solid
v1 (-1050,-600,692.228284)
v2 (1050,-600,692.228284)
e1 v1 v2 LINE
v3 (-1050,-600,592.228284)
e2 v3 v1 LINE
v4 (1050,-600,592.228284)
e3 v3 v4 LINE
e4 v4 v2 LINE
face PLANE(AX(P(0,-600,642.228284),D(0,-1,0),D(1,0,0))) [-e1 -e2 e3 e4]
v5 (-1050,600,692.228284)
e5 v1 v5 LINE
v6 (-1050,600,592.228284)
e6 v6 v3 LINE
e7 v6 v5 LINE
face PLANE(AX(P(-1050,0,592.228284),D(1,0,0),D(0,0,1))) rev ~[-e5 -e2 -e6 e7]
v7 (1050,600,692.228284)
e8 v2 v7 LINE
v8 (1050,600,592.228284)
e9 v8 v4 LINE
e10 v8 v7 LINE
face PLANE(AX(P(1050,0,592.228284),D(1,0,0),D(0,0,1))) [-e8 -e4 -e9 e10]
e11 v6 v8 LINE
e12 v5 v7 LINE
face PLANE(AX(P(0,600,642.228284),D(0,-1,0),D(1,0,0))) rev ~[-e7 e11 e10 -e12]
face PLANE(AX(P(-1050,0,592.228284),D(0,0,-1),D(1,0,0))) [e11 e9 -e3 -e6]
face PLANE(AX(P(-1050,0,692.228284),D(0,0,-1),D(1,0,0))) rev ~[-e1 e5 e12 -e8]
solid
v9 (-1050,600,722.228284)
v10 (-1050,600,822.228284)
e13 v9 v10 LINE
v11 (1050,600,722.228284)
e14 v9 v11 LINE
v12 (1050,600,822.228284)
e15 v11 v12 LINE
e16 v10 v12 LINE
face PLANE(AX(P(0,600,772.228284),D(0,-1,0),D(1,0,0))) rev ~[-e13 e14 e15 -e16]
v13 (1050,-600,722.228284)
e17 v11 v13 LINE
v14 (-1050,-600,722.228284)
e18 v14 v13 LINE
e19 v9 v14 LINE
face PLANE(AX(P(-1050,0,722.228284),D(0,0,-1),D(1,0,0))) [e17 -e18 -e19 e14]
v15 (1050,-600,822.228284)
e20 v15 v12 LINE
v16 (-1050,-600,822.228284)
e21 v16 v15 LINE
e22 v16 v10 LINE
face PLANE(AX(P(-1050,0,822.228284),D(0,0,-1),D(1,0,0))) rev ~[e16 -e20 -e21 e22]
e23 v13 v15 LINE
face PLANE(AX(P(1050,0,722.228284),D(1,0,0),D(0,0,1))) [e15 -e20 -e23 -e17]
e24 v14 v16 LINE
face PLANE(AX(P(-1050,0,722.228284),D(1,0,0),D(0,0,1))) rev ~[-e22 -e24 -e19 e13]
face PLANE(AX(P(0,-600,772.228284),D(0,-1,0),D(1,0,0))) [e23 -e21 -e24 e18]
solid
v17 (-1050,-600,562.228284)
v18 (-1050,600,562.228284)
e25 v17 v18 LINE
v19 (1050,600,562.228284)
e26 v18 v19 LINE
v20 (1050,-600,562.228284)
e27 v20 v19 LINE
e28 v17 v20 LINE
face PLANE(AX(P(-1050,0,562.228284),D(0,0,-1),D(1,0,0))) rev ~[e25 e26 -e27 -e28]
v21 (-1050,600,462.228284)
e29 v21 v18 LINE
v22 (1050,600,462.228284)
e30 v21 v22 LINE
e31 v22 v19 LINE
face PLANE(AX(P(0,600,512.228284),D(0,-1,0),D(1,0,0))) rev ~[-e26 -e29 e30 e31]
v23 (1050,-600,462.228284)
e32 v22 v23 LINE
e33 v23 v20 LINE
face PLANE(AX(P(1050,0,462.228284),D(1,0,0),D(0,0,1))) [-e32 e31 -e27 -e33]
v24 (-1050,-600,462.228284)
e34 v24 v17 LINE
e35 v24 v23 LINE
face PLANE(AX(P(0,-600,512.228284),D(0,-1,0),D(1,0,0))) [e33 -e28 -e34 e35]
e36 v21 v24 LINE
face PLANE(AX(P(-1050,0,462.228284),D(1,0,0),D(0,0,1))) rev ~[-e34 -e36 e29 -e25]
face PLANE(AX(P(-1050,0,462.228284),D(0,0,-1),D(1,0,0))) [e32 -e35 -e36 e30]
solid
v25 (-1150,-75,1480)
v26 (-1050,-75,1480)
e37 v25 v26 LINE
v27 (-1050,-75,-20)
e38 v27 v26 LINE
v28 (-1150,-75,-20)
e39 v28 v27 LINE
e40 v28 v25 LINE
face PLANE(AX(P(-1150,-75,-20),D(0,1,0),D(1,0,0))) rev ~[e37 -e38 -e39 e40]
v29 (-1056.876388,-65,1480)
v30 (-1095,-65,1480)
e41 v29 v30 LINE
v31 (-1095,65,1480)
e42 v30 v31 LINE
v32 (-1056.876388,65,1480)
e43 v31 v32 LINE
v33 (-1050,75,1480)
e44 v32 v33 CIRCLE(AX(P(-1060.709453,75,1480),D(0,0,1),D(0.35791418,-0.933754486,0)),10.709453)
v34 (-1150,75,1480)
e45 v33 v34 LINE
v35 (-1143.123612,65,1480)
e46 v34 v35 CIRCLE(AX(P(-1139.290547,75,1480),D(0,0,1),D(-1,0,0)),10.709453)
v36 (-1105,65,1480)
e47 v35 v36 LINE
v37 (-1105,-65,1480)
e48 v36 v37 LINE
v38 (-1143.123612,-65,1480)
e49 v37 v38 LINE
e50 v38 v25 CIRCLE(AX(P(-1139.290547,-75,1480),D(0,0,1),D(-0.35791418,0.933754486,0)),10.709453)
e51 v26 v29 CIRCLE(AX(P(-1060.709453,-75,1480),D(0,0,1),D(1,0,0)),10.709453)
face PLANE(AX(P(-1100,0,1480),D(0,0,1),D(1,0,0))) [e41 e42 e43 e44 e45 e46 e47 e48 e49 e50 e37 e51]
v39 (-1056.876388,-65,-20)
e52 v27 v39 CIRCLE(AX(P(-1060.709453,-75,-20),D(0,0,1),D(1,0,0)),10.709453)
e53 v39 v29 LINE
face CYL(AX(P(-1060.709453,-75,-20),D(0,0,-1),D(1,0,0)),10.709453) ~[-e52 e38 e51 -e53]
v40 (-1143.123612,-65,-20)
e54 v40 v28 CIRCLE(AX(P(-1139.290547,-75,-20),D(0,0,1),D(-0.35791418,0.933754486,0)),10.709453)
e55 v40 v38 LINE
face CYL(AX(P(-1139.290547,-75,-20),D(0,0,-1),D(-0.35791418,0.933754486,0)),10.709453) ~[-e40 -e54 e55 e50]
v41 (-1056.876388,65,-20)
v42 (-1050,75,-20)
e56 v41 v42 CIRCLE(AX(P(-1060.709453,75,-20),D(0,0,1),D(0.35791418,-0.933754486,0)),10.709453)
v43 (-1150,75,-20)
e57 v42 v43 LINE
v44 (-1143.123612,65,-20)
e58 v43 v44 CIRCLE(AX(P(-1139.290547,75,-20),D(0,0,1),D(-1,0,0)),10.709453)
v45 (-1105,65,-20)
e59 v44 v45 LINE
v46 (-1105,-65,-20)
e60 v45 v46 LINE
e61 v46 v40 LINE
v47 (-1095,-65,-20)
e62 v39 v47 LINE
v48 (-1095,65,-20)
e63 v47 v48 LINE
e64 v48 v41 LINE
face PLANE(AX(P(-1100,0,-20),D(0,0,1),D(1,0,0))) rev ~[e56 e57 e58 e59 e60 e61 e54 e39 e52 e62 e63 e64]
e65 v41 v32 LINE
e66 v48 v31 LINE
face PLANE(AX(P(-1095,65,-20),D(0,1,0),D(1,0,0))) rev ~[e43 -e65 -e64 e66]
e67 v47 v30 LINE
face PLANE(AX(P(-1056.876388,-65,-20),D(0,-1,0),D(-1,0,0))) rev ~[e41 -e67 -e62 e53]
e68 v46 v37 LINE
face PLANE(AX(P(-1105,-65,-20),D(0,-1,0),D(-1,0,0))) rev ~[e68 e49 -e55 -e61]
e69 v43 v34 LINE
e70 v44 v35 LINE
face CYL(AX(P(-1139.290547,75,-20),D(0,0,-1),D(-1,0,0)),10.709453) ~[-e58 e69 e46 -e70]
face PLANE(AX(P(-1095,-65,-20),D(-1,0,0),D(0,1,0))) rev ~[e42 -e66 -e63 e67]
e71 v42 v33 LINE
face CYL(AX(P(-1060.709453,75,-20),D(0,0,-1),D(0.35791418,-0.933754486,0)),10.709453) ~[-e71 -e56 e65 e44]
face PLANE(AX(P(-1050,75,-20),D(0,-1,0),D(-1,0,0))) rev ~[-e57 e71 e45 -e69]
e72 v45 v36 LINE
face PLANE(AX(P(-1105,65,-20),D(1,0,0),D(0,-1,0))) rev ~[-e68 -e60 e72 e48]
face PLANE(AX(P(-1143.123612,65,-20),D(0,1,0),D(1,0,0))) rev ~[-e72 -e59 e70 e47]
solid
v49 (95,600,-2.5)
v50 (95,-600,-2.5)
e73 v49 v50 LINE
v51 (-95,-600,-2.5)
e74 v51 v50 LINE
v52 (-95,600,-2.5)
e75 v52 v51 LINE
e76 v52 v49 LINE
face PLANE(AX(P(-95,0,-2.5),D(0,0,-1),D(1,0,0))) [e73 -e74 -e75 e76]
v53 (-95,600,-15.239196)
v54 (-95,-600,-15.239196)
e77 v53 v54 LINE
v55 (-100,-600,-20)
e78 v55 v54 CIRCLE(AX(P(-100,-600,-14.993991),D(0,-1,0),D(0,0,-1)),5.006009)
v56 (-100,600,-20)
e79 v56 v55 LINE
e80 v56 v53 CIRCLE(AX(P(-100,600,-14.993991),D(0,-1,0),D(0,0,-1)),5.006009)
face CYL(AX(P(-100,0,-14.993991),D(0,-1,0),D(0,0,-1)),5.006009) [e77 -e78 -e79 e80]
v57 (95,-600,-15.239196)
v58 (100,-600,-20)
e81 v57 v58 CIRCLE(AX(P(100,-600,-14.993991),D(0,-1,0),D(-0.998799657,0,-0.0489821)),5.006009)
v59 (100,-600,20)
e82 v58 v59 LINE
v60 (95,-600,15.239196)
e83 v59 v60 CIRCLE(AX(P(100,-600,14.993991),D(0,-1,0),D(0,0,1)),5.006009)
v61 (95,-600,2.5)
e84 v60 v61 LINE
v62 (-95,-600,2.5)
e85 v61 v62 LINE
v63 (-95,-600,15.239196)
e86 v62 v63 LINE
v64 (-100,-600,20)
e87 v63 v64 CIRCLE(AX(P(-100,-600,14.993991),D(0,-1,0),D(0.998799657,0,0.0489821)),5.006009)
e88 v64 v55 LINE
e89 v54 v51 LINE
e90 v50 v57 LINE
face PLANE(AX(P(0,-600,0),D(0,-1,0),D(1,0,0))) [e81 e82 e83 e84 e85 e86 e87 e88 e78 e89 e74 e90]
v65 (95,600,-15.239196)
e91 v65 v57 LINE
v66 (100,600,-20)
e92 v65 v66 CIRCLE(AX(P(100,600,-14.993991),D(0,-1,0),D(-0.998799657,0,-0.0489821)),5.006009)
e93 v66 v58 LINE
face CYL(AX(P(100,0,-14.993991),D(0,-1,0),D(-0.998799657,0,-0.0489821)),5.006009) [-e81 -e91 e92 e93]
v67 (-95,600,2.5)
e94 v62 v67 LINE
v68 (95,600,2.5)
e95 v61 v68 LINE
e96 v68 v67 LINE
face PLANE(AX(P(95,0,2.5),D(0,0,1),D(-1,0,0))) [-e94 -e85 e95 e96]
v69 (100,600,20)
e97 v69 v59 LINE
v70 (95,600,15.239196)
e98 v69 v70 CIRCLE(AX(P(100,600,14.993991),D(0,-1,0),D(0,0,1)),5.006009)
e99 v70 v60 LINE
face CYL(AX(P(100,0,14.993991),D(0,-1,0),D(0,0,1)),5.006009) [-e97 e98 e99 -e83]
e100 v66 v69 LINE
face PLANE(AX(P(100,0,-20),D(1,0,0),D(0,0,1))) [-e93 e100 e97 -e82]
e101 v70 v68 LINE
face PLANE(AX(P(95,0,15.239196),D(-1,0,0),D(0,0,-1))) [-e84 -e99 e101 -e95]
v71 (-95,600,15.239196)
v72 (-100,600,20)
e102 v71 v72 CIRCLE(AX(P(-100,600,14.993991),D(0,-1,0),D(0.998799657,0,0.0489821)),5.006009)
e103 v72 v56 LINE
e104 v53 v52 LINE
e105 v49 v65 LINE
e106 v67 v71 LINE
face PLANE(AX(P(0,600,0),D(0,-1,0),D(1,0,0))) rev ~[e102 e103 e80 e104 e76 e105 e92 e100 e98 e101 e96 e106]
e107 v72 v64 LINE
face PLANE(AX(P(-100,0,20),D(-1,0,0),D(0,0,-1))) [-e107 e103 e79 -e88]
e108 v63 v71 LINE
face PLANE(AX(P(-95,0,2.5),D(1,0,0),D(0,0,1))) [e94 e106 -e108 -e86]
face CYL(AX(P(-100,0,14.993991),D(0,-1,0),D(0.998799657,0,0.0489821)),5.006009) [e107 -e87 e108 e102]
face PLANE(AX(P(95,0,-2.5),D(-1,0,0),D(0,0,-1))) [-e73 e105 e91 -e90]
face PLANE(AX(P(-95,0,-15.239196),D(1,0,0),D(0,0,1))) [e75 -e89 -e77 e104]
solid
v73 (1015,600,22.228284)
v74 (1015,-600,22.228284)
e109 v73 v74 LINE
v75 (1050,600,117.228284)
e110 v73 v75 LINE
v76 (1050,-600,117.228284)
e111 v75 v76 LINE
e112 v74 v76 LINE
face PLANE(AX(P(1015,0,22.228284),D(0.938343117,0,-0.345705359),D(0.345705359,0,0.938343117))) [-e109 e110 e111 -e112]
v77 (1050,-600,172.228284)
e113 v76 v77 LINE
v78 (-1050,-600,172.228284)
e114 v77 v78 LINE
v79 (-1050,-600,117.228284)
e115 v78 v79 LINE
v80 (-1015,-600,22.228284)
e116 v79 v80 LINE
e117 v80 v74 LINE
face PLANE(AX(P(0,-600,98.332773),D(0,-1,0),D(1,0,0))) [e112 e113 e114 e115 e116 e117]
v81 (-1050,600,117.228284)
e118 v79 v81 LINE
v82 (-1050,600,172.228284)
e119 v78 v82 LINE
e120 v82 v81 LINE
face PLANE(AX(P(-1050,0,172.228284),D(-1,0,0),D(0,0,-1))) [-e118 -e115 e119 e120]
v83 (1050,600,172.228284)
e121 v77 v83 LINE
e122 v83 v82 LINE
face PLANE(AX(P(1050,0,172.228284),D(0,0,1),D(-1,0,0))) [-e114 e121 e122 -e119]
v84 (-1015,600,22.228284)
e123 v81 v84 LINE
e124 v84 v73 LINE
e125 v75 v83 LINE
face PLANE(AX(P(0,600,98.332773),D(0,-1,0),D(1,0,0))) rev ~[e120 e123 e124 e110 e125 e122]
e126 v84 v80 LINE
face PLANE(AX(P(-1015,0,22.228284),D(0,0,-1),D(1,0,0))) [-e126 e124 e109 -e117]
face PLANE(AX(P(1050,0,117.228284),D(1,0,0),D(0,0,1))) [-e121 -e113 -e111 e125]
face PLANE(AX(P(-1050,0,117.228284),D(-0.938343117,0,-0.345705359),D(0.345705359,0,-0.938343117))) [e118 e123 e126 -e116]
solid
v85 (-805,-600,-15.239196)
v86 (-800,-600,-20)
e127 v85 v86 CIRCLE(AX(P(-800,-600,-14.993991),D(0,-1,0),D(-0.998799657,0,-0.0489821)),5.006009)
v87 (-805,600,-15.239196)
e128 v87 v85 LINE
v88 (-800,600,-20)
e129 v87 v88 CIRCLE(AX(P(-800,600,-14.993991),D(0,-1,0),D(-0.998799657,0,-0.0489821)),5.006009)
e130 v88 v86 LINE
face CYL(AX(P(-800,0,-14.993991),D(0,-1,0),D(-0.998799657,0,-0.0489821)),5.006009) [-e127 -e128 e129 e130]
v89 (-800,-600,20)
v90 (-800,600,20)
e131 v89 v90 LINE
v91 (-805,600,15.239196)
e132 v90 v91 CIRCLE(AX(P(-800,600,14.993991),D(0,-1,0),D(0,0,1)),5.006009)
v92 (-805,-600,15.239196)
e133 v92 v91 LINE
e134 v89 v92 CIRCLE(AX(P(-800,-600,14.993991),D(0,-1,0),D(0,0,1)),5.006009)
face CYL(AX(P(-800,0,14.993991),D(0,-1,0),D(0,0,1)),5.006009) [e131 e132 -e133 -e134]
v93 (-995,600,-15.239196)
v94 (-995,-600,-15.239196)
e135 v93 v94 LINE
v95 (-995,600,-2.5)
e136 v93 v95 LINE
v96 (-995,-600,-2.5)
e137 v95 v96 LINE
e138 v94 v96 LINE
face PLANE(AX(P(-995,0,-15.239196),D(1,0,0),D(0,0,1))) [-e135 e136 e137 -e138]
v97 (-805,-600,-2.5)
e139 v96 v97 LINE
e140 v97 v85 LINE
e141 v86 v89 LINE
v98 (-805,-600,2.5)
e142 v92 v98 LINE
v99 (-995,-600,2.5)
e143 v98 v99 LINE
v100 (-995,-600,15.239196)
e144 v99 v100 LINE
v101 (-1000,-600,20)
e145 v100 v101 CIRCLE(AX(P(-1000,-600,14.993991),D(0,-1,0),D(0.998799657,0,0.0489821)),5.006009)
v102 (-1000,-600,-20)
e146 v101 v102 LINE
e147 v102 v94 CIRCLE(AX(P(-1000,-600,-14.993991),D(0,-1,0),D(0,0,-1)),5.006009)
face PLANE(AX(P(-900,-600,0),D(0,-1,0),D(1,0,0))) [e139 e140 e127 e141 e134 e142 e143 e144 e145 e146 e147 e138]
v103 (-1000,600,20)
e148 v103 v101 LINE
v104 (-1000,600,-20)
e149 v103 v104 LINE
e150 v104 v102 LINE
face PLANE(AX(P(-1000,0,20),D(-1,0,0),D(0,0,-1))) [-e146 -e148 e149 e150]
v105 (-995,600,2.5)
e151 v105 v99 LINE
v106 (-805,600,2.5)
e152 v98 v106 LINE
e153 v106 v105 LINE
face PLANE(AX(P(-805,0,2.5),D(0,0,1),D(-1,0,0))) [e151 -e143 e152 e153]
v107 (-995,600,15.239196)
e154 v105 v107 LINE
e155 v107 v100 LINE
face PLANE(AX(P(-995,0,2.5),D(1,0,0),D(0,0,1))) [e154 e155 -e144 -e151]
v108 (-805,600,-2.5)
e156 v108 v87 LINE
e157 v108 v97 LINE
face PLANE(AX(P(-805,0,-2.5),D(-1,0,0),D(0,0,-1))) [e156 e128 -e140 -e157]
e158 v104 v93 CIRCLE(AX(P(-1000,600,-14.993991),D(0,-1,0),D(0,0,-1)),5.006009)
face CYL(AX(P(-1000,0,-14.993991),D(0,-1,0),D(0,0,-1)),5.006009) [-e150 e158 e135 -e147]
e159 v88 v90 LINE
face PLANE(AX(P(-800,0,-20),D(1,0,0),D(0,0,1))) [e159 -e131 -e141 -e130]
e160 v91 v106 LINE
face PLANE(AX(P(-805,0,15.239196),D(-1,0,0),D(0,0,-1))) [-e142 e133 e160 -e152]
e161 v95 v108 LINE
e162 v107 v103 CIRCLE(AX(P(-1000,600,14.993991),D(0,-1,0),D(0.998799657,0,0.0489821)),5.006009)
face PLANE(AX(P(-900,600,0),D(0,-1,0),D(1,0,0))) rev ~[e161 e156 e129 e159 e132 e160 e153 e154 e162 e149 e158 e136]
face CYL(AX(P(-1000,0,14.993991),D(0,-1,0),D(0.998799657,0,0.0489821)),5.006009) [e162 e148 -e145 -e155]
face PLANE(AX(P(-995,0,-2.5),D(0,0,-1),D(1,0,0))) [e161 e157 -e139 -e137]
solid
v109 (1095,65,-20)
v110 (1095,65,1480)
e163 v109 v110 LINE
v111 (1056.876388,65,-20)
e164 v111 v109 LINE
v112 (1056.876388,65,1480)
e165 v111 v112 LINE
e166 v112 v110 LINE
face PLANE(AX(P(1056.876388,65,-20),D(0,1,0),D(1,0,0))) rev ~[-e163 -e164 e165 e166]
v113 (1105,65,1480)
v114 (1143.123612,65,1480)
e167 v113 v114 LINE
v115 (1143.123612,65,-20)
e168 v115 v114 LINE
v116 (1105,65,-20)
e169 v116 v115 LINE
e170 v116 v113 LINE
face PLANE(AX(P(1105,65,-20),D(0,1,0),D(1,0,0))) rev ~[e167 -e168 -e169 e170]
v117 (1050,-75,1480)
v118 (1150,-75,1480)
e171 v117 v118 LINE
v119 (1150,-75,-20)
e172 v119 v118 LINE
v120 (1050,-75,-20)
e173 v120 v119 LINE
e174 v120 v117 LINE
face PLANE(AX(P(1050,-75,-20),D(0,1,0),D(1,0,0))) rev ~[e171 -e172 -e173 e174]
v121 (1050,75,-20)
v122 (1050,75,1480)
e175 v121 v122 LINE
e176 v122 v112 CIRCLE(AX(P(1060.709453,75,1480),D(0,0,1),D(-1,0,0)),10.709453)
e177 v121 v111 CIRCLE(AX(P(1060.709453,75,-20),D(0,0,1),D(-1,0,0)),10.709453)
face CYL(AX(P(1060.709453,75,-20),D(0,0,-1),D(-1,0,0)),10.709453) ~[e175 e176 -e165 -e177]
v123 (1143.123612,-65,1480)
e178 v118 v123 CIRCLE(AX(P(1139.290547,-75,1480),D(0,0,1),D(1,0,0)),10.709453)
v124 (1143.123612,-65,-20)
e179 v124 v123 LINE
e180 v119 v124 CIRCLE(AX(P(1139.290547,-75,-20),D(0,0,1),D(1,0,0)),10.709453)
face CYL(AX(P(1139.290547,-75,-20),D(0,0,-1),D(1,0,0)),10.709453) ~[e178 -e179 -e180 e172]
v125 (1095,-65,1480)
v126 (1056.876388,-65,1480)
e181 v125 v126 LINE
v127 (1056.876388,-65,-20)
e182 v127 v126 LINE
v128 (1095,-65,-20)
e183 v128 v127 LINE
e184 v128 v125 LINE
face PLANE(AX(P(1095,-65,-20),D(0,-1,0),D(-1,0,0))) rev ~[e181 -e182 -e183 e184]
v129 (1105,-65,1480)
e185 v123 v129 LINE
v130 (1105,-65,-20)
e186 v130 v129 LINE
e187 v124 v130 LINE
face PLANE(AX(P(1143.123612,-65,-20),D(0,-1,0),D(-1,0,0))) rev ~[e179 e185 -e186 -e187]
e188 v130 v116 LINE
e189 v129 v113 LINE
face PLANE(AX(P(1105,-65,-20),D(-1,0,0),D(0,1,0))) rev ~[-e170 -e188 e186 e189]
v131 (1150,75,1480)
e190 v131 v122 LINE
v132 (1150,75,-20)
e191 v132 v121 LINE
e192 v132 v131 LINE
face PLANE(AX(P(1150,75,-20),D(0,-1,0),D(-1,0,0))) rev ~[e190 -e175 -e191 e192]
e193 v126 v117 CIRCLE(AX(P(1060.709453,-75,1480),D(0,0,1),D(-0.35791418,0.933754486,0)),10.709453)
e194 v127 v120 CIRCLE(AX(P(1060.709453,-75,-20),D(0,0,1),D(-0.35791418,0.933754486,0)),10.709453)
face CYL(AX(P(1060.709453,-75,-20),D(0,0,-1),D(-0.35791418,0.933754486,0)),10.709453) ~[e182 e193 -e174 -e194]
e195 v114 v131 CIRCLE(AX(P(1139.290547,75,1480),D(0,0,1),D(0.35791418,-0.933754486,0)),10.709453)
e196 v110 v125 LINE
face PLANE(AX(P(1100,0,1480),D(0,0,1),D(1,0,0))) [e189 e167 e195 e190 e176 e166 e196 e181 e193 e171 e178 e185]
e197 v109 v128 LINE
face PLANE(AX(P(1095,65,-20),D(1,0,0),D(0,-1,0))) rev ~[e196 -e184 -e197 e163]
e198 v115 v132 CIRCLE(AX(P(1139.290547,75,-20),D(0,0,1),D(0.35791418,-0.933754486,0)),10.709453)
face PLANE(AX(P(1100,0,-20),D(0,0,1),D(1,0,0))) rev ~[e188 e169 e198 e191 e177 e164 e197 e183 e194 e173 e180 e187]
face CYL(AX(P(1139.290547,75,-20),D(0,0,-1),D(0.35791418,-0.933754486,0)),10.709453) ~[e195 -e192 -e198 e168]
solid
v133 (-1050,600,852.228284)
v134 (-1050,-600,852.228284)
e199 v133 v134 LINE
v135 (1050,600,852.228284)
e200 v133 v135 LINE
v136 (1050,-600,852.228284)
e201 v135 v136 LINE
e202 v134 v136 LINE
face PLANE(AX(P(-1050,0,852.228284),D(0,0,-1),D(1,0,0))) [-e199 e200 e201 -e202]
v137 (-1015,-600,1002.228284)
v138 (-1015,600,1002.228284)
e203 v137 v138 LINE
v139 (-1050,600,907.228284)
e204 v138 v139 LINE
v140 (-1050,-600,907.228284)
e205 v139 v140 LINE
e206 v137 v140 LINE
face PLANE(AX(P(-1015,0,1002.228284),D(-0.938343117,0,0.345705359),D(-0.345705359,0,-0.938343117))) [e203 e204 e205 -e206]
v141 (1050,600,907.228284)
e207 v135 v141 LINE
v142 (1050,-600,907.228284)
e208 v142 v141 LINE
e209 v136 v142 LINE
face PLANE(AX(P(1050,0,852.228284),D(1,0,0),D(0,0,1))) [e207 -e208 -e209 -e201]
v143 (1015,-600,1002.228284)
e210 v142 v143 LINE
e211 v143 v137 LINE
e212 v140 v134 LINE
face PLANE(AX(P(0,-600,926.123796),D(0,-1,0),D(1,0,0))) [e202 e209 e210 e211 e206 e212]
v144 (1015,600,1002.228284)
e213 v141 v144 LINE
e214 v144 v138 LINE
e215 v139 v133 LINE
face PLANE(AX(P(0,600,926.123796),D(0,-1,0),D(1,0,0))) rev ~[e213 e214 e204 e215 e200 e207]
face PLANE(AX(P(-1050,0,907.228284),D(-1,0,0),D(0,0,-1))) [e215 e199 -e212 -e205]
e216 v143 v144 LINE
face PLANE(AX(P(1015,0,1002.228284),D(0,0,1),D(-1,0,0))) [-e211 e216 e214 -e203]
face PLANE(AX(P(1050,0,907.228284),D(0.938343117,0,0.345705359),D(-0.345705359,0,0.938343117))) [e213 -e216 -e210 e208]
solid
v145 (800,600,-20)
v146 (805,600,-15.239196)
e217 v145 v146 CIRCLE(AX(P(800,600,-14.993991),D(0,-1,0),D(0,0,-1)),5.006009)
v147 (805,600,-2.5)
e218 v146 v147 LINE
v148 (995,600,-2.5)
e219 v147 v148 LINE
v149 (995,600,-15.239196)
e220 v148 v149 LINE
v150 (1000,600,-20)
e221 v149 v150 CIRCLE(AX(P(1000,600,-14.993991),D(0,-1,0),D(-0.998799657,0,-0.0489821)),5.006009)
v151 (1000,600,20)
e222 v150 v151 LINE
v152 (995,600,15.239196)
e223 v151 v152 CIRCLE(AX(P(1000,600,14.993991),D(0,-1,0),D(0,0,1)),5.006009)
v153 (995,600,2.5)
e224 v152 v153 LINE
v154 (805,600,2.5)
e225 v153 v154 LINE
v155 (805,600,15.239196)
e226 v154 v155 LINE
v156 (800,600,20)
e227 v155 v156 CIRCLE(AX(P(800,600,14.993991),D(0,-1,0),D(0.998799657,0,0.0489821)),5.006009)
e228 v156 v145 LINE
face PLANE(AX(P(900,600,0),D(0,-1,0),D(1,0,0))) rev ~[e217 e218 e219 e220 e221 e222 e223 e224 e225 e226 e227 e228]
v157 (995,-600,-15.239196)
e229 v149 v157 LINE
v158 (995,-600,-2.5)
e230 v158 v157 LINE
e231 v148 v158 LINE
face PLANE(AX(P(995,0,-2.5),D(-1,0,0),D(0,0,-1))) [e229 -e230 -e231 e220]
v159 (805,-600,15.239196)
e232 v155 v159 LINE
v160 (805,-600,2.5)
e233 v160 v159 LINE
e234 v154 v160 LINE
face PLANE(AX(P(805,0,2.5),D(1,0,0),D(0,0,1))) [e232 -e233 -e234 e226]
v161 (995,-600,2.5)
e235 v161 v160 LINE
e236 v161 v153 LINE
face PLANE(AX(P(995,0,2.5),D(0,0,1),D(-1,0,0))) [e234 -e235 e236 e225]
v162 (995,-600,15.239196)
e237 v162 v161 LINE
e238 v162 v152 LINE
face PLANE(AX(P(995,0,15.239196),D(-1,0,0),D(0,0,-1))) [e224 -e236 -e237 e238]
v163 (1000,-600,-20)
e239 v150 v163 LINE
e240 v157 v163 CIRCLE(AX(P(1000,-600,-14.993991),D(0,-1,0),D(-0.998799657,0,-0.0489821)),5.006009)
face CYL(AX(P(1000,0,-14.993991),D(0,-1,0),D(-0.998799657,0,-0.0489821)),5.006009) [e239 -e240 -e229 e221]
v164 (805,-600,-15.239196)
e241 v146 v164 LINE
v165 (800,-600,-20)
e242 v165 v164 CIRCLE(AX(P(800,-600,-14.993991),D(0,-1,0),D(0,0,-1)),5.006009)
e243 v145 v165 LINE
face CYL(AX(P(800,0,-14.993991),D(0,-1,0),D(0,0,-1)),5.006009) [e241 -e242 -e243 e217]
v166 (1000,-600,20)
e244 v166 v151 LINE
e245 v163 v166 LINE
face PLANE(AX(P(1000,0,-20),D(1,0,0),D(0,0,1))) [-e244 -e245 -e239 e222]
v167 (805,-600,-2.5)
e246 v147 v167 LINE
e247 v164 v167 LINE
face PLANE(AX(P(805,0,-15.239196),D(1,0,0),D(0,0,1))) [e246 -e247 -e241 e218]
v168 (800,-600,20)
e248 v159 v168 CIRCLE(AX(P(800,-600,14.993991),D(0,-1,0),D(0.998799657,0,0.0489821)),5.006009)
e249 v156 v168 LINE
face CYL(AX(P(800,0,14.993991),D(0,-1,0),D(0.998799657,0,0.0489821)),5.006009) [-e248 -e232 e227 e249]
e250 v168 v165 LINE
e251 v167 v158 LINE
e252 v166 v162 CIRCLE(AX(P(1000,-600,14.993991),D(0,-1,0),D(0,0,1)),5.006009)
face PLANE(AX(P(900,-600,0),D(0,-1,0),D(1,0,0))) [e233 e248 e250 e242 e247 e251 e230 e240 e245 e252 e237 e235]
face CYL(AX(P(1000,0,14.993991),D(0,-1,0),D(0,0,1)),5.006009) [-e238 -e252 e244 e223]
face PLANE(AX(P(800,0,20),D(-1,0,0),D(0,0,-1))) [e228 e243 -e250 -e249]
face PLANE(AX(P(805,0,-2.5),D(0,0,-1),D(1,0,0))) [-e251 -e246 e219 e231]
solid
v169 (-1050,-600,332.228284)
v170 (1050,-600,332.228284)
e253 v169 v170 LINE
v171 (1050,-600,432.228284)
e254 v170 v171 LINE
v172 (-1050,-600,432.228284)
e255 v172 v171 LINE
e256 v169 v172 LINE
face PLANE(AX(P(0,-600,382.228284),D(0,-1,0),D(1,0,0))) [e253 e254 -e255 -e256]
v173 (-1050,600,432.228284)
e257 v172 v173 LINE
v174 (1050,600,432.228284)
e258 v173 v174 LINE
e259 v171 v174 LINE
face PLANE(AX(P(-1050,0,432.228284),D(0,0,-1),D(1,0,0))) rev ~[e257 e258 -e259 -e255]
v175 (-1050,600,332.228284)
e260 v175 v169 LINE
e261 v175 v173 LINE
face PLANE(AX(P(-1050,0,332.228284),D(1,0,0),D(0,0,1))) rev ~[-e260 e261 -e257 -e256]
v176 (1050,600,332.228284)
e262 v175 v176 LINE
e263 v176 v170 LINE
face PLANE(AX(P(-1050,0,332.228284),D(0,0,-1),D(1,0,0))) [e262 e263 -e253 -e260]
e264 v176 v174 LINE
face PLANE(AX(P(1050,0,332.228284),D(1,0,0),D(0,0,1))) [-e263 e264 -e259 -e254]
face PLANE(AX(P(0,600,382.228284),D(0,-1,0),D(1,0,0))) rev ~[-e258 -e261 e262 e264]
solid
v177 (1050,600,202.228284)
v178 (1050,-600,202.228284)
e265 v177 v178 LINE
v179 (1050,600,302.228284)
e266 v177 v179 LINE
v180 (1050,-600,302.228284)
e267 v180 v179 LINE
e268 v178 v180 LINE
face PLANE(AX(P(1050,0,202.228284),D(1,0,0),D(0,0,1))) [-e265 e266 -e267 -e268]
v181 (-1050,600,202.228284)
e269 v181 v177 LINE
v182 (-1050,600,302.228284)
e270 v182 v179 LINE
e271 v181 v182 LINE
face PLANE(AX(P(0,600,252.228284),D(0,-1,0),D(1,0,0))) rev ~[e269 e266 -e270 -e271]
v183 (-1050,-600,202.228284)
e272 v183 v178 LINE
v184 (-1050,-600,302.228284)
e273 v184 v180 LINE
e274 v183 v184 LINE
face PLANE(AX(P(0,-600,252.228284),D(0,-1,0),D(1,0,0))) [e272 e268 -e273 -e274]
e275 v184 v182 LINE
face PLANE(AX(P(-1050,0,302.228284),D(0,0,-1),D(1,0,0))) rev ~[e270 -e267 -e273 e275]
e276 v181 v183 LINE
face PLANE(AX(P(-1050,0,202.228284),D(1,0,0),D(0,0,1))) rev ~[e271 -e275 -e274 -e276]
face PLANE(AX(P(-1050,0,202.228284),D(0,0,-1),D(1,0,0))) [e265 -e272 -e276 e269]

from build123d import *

# Parameters (mm, degrees)
F1_DEPTH = 600
F2_DEPTH = 600
F0_W     = 2100
F0_H     = 100
F5_DEPTH = 1500


with BuildPart() as f1:
    # F0 (on Front) → F1 (new body, symmetric)
    with BuildSketch(Plane.XZ):
        with BuildLine():
            Line((-805, 2.5), (-995, 2.5))
            Line((-995, 2.5), (-995, 15.2391958982))
            ThreePointArc((-995, 15.2391958982), (-996.5479985626, 18.6194305583), (-1000, 20))
            Line((-1000, 20), (-1000, -20))
            ThreePointArc((-1000, -20), (-996.5479985626, -18.6194305583), (-995, -15.2391958982))
            Line((-995, -15.2391958982), (-995, -2.5))
            Line((-995, -2.5), (-805, -2.5))
            Line((-805, -2.5), (-805, -15.2391958982))
            ThreePointArc((-805, -15.2391958982), (-803.4520014374, -18.6194305583), (-800, -20))
            Line((-800, -20), (-800, 20))
            ThreePointArc((-800, 20), (-803.4520014374, 18.6194305583), (-805, 15.2391958982))
            Line((-805, 15.2391958982), (-805, 2.5))
        make_face()
    extrude(amount=F1_DEPTH, both=True)


with BuildPart() as f1b:
    # F0 (on Front) → F1, piece 2 (new body, symmetric)
    with BuildSketch(Plane.XZ):
        with BuildLine():
            ThreePointArc((-95, 15.2391958982), (-96.5479985626, 18.6194305583), (-100, 20))
            Line((-100, 20), (-100, -20))
            ThreePointArc((-100, -20), (-96.5479985626, -18.6194305583), (-95, -15.2391958982))
            Line((-95, -15.2391958982), (-95, -2.5))
            Line((-95, -2.5), (95, -2.5))
            Line((95, -2.5), (95, -15.2391958982))
            ThreePointArc((95, -15.2391958982), (96.5479985626, -18.6194305583), (100, -20))
            Line((100, -20), (100, 20))
            ThreePointArc((100, 20), (96.5479985626, 18.6194305583), (95, 15.2391958982))
            Line((95, 15.2391958982), (95, 2.5))
            Line((95, 2.5), (-95, 2.5))
            Line((-95, 2.5), (-95, 15.2391958982))
        make_face()
    extrude(amount=F1_DEPTH, both=True)


with BuildPart() as f1c:
    # F0 (on Front) → F1, piece 3 (new body, symmetric)
    with BuildSketch(Plane.XZ):
        with BuildLine():
            Line((995, 2.5), (805, 2.5))
            Line((805, 2.5), (805, 15.2391958982))
            ThreePointArc((805, 15.2391958982), (803.4520014374, 18.6194305583), (800, 20))
            Line((800, 20), (800, -20))
            ThreePointArc((800, -20), (803.4520014374, -18.6194305583), (805, -15.2391958982))
            Line((805, -15.2391958982), (805, -2.5))
            Line((805, -2.5), (995, -2.5))
            Line((995, -2.5), (995, -15.2391958982))
            ThreePointArc((995, -15.2391958982), (996.5479985626, -18.6194305583), (1000, -20))
            Line((1000, -20), (1000, 20))
            ThreePointArc((1000, 20), (996.5479985626, 18.6194305583), (995, 15.2391958982))
            Line((995, 15.2391958982), (995, 2.5))
        make_face()
    extrude(amount=F1_DEPTH, both=True)


with BuildPart() as f2:
    # F0 (on Front) → F2 (new body, symmetric)
    with BuildSketch(Plane.XZ):
        Polygon((-1050, 117.2282844782), (-1015, 22.2282844782), (1015, 22.2282844782), (1050, 117.2282844782), (1050, 172.2282844782), (-1050, 172.2282844782), align=None)
    extrude(amount=F2_DEPTH, both=True)


with BuildPart() as f2b:
    # F0 (on Front) → F2, piece 2 (new body, symmetric)
    with BuildSketch(Plane.XZ):
        with Locations((0, 252.2282844782)):
            Rectangle(F0_W, F0_H)
    extrude(amount=F2_DEPTH, both=True)


with BuildPart() as f2c:
    # F0 (on Front) → F2, piece 3 (new body, symmetric)
    with BuildSketch(Plane.XZ):
        with Locations((0, 382.2282844782)):
            Rectangle(F0_W, F0_H)
    extrude(amount=F2_DEPTH, both=True)


with BuildPart() as f2d:
    # F0 (on Front) → F2, piece 4 (new body, symmetric)
    with BuildSketch(Plane.XZ):
        with Locations((0, 512.2282844782)):
            Rectangle(F0_W, F0_H)
    extrude(amount=F2_DEPTH, both=True)


with BuildPart() as f2e:
    # F0 (on Front) → F2, piece 5 (new body, symmetric)
    with BuildSketch(Plane.XZ):
        with Locations((0, 642.2282844782)):
            Rectangle(F0_W, F0_H)
    extrude(amount=F2_DEPTH, both=True)


with BuildPart() as f2f:
    # F0 (on Front) → F2, piece 6 (new body, symmetric)
    with BuildSketch(Plane.XZ):
        with Locations((0, 772.2282844782)):
            Rectangle(F0_W, F0_H)
    extrude(amount=F2_DEPTH, both=True)


with BuildPart() as f2g:
    # F0 (on Front) → F2, piece 7 (new body, symmetric)
    with BuildSketch(Plane.XZ):
        Polygon((-1015, 1002.2282844782), (-1050, 907.2282844782), (-1050, 852.2282844782), (1050, 852.2282844782), (1050, 907.2282844782), (1015, 1002.2282844782), align=None)
    extrude(amount=F2_DEPTH, both=True)


with BuildPart() as f5:
    # F4 (on 3pt) → F5 (new body)
    with BuildSketch(Plane.XY.offset(-20)):
        with BuildLine():
            ThreePointArc((1056.8763880603, -65), (1051.8849866554, -68.9319543353), (1050, -75))
            Line((1050, -75), (1150, -75))
            ThreePointArc((1150, -75), (1148.1150133446, -68.9319543353), (1143.1236119397, -65))
            Line((1143.1236119397, -65), (1105, -65))
            Line((1105, -65), (1105, 65))
            Line((1105, 65), (1143.1236119397, 65))
            ThreePointArc((1143.1236119397, 65), (1148.1150133446, 68.9319543353), (1150, 75))
            Line((1150, 75), (1050, 75))
            ThreePointArc((1050, 75), (1051.8849866554, 68.9319543353), (1056.8763880603, 65))
            Line((1056.8763880603, 65), (1095, 65))
            Line((1095, 65), (1095, -65))
            Line((1095, -65), (1056.8763880603, -65))
        make_face()
    extrude(amount=F5_DEPTH)


with BuildPart() as f5b:
    # F4 (on 3pt) → F5, piece 2 (new body)
    with BuildSketch(Plane.XY.offset(-20)):
        with BuildLine():
            ThreePointArc((-1050, -75), (-1051.8849866554, -68.9319543353), (-1056.8763880603, -65))
            Line((-1056.8763880603, -65), (-1095, -65))
            Line((-1095, -65), (-1095, 65))
            Line((-1095, 65), (-1056.8763880603, 65))
            ThreePointArc((-1056.8763880603, 65), (-1051.8849866554, 68.9319543353), (-1050, 75))
            Line((-1050, 75), (-1150, 75))
            ThreePointArc((-1150, 75), (-1148.1150133446, 68.9319543353), (-1143.1236119397, 65))
            Line((-1143.1236119397, 65), (-1105, 65))
            Line((-1105, 65), (-1105, -65))
            Line((-1105, -65), (-1143.1236119397, -65))
            ThreePointArc((-1143.1236119397, -65), (-1148.1150133446, -68.9319543353), (-1150, -75))
            Line((-1150, -75), (-1050, -75))
        make_face()
    extrude(amount=F5_DEPTH)


solid = Compound([f1.part, f1b.part, f1c.part, f2.part, f2b.part, f2c.part, f2d.part, f2e.part, f2f.part, f2g.part, f5.part, f5b.part])
